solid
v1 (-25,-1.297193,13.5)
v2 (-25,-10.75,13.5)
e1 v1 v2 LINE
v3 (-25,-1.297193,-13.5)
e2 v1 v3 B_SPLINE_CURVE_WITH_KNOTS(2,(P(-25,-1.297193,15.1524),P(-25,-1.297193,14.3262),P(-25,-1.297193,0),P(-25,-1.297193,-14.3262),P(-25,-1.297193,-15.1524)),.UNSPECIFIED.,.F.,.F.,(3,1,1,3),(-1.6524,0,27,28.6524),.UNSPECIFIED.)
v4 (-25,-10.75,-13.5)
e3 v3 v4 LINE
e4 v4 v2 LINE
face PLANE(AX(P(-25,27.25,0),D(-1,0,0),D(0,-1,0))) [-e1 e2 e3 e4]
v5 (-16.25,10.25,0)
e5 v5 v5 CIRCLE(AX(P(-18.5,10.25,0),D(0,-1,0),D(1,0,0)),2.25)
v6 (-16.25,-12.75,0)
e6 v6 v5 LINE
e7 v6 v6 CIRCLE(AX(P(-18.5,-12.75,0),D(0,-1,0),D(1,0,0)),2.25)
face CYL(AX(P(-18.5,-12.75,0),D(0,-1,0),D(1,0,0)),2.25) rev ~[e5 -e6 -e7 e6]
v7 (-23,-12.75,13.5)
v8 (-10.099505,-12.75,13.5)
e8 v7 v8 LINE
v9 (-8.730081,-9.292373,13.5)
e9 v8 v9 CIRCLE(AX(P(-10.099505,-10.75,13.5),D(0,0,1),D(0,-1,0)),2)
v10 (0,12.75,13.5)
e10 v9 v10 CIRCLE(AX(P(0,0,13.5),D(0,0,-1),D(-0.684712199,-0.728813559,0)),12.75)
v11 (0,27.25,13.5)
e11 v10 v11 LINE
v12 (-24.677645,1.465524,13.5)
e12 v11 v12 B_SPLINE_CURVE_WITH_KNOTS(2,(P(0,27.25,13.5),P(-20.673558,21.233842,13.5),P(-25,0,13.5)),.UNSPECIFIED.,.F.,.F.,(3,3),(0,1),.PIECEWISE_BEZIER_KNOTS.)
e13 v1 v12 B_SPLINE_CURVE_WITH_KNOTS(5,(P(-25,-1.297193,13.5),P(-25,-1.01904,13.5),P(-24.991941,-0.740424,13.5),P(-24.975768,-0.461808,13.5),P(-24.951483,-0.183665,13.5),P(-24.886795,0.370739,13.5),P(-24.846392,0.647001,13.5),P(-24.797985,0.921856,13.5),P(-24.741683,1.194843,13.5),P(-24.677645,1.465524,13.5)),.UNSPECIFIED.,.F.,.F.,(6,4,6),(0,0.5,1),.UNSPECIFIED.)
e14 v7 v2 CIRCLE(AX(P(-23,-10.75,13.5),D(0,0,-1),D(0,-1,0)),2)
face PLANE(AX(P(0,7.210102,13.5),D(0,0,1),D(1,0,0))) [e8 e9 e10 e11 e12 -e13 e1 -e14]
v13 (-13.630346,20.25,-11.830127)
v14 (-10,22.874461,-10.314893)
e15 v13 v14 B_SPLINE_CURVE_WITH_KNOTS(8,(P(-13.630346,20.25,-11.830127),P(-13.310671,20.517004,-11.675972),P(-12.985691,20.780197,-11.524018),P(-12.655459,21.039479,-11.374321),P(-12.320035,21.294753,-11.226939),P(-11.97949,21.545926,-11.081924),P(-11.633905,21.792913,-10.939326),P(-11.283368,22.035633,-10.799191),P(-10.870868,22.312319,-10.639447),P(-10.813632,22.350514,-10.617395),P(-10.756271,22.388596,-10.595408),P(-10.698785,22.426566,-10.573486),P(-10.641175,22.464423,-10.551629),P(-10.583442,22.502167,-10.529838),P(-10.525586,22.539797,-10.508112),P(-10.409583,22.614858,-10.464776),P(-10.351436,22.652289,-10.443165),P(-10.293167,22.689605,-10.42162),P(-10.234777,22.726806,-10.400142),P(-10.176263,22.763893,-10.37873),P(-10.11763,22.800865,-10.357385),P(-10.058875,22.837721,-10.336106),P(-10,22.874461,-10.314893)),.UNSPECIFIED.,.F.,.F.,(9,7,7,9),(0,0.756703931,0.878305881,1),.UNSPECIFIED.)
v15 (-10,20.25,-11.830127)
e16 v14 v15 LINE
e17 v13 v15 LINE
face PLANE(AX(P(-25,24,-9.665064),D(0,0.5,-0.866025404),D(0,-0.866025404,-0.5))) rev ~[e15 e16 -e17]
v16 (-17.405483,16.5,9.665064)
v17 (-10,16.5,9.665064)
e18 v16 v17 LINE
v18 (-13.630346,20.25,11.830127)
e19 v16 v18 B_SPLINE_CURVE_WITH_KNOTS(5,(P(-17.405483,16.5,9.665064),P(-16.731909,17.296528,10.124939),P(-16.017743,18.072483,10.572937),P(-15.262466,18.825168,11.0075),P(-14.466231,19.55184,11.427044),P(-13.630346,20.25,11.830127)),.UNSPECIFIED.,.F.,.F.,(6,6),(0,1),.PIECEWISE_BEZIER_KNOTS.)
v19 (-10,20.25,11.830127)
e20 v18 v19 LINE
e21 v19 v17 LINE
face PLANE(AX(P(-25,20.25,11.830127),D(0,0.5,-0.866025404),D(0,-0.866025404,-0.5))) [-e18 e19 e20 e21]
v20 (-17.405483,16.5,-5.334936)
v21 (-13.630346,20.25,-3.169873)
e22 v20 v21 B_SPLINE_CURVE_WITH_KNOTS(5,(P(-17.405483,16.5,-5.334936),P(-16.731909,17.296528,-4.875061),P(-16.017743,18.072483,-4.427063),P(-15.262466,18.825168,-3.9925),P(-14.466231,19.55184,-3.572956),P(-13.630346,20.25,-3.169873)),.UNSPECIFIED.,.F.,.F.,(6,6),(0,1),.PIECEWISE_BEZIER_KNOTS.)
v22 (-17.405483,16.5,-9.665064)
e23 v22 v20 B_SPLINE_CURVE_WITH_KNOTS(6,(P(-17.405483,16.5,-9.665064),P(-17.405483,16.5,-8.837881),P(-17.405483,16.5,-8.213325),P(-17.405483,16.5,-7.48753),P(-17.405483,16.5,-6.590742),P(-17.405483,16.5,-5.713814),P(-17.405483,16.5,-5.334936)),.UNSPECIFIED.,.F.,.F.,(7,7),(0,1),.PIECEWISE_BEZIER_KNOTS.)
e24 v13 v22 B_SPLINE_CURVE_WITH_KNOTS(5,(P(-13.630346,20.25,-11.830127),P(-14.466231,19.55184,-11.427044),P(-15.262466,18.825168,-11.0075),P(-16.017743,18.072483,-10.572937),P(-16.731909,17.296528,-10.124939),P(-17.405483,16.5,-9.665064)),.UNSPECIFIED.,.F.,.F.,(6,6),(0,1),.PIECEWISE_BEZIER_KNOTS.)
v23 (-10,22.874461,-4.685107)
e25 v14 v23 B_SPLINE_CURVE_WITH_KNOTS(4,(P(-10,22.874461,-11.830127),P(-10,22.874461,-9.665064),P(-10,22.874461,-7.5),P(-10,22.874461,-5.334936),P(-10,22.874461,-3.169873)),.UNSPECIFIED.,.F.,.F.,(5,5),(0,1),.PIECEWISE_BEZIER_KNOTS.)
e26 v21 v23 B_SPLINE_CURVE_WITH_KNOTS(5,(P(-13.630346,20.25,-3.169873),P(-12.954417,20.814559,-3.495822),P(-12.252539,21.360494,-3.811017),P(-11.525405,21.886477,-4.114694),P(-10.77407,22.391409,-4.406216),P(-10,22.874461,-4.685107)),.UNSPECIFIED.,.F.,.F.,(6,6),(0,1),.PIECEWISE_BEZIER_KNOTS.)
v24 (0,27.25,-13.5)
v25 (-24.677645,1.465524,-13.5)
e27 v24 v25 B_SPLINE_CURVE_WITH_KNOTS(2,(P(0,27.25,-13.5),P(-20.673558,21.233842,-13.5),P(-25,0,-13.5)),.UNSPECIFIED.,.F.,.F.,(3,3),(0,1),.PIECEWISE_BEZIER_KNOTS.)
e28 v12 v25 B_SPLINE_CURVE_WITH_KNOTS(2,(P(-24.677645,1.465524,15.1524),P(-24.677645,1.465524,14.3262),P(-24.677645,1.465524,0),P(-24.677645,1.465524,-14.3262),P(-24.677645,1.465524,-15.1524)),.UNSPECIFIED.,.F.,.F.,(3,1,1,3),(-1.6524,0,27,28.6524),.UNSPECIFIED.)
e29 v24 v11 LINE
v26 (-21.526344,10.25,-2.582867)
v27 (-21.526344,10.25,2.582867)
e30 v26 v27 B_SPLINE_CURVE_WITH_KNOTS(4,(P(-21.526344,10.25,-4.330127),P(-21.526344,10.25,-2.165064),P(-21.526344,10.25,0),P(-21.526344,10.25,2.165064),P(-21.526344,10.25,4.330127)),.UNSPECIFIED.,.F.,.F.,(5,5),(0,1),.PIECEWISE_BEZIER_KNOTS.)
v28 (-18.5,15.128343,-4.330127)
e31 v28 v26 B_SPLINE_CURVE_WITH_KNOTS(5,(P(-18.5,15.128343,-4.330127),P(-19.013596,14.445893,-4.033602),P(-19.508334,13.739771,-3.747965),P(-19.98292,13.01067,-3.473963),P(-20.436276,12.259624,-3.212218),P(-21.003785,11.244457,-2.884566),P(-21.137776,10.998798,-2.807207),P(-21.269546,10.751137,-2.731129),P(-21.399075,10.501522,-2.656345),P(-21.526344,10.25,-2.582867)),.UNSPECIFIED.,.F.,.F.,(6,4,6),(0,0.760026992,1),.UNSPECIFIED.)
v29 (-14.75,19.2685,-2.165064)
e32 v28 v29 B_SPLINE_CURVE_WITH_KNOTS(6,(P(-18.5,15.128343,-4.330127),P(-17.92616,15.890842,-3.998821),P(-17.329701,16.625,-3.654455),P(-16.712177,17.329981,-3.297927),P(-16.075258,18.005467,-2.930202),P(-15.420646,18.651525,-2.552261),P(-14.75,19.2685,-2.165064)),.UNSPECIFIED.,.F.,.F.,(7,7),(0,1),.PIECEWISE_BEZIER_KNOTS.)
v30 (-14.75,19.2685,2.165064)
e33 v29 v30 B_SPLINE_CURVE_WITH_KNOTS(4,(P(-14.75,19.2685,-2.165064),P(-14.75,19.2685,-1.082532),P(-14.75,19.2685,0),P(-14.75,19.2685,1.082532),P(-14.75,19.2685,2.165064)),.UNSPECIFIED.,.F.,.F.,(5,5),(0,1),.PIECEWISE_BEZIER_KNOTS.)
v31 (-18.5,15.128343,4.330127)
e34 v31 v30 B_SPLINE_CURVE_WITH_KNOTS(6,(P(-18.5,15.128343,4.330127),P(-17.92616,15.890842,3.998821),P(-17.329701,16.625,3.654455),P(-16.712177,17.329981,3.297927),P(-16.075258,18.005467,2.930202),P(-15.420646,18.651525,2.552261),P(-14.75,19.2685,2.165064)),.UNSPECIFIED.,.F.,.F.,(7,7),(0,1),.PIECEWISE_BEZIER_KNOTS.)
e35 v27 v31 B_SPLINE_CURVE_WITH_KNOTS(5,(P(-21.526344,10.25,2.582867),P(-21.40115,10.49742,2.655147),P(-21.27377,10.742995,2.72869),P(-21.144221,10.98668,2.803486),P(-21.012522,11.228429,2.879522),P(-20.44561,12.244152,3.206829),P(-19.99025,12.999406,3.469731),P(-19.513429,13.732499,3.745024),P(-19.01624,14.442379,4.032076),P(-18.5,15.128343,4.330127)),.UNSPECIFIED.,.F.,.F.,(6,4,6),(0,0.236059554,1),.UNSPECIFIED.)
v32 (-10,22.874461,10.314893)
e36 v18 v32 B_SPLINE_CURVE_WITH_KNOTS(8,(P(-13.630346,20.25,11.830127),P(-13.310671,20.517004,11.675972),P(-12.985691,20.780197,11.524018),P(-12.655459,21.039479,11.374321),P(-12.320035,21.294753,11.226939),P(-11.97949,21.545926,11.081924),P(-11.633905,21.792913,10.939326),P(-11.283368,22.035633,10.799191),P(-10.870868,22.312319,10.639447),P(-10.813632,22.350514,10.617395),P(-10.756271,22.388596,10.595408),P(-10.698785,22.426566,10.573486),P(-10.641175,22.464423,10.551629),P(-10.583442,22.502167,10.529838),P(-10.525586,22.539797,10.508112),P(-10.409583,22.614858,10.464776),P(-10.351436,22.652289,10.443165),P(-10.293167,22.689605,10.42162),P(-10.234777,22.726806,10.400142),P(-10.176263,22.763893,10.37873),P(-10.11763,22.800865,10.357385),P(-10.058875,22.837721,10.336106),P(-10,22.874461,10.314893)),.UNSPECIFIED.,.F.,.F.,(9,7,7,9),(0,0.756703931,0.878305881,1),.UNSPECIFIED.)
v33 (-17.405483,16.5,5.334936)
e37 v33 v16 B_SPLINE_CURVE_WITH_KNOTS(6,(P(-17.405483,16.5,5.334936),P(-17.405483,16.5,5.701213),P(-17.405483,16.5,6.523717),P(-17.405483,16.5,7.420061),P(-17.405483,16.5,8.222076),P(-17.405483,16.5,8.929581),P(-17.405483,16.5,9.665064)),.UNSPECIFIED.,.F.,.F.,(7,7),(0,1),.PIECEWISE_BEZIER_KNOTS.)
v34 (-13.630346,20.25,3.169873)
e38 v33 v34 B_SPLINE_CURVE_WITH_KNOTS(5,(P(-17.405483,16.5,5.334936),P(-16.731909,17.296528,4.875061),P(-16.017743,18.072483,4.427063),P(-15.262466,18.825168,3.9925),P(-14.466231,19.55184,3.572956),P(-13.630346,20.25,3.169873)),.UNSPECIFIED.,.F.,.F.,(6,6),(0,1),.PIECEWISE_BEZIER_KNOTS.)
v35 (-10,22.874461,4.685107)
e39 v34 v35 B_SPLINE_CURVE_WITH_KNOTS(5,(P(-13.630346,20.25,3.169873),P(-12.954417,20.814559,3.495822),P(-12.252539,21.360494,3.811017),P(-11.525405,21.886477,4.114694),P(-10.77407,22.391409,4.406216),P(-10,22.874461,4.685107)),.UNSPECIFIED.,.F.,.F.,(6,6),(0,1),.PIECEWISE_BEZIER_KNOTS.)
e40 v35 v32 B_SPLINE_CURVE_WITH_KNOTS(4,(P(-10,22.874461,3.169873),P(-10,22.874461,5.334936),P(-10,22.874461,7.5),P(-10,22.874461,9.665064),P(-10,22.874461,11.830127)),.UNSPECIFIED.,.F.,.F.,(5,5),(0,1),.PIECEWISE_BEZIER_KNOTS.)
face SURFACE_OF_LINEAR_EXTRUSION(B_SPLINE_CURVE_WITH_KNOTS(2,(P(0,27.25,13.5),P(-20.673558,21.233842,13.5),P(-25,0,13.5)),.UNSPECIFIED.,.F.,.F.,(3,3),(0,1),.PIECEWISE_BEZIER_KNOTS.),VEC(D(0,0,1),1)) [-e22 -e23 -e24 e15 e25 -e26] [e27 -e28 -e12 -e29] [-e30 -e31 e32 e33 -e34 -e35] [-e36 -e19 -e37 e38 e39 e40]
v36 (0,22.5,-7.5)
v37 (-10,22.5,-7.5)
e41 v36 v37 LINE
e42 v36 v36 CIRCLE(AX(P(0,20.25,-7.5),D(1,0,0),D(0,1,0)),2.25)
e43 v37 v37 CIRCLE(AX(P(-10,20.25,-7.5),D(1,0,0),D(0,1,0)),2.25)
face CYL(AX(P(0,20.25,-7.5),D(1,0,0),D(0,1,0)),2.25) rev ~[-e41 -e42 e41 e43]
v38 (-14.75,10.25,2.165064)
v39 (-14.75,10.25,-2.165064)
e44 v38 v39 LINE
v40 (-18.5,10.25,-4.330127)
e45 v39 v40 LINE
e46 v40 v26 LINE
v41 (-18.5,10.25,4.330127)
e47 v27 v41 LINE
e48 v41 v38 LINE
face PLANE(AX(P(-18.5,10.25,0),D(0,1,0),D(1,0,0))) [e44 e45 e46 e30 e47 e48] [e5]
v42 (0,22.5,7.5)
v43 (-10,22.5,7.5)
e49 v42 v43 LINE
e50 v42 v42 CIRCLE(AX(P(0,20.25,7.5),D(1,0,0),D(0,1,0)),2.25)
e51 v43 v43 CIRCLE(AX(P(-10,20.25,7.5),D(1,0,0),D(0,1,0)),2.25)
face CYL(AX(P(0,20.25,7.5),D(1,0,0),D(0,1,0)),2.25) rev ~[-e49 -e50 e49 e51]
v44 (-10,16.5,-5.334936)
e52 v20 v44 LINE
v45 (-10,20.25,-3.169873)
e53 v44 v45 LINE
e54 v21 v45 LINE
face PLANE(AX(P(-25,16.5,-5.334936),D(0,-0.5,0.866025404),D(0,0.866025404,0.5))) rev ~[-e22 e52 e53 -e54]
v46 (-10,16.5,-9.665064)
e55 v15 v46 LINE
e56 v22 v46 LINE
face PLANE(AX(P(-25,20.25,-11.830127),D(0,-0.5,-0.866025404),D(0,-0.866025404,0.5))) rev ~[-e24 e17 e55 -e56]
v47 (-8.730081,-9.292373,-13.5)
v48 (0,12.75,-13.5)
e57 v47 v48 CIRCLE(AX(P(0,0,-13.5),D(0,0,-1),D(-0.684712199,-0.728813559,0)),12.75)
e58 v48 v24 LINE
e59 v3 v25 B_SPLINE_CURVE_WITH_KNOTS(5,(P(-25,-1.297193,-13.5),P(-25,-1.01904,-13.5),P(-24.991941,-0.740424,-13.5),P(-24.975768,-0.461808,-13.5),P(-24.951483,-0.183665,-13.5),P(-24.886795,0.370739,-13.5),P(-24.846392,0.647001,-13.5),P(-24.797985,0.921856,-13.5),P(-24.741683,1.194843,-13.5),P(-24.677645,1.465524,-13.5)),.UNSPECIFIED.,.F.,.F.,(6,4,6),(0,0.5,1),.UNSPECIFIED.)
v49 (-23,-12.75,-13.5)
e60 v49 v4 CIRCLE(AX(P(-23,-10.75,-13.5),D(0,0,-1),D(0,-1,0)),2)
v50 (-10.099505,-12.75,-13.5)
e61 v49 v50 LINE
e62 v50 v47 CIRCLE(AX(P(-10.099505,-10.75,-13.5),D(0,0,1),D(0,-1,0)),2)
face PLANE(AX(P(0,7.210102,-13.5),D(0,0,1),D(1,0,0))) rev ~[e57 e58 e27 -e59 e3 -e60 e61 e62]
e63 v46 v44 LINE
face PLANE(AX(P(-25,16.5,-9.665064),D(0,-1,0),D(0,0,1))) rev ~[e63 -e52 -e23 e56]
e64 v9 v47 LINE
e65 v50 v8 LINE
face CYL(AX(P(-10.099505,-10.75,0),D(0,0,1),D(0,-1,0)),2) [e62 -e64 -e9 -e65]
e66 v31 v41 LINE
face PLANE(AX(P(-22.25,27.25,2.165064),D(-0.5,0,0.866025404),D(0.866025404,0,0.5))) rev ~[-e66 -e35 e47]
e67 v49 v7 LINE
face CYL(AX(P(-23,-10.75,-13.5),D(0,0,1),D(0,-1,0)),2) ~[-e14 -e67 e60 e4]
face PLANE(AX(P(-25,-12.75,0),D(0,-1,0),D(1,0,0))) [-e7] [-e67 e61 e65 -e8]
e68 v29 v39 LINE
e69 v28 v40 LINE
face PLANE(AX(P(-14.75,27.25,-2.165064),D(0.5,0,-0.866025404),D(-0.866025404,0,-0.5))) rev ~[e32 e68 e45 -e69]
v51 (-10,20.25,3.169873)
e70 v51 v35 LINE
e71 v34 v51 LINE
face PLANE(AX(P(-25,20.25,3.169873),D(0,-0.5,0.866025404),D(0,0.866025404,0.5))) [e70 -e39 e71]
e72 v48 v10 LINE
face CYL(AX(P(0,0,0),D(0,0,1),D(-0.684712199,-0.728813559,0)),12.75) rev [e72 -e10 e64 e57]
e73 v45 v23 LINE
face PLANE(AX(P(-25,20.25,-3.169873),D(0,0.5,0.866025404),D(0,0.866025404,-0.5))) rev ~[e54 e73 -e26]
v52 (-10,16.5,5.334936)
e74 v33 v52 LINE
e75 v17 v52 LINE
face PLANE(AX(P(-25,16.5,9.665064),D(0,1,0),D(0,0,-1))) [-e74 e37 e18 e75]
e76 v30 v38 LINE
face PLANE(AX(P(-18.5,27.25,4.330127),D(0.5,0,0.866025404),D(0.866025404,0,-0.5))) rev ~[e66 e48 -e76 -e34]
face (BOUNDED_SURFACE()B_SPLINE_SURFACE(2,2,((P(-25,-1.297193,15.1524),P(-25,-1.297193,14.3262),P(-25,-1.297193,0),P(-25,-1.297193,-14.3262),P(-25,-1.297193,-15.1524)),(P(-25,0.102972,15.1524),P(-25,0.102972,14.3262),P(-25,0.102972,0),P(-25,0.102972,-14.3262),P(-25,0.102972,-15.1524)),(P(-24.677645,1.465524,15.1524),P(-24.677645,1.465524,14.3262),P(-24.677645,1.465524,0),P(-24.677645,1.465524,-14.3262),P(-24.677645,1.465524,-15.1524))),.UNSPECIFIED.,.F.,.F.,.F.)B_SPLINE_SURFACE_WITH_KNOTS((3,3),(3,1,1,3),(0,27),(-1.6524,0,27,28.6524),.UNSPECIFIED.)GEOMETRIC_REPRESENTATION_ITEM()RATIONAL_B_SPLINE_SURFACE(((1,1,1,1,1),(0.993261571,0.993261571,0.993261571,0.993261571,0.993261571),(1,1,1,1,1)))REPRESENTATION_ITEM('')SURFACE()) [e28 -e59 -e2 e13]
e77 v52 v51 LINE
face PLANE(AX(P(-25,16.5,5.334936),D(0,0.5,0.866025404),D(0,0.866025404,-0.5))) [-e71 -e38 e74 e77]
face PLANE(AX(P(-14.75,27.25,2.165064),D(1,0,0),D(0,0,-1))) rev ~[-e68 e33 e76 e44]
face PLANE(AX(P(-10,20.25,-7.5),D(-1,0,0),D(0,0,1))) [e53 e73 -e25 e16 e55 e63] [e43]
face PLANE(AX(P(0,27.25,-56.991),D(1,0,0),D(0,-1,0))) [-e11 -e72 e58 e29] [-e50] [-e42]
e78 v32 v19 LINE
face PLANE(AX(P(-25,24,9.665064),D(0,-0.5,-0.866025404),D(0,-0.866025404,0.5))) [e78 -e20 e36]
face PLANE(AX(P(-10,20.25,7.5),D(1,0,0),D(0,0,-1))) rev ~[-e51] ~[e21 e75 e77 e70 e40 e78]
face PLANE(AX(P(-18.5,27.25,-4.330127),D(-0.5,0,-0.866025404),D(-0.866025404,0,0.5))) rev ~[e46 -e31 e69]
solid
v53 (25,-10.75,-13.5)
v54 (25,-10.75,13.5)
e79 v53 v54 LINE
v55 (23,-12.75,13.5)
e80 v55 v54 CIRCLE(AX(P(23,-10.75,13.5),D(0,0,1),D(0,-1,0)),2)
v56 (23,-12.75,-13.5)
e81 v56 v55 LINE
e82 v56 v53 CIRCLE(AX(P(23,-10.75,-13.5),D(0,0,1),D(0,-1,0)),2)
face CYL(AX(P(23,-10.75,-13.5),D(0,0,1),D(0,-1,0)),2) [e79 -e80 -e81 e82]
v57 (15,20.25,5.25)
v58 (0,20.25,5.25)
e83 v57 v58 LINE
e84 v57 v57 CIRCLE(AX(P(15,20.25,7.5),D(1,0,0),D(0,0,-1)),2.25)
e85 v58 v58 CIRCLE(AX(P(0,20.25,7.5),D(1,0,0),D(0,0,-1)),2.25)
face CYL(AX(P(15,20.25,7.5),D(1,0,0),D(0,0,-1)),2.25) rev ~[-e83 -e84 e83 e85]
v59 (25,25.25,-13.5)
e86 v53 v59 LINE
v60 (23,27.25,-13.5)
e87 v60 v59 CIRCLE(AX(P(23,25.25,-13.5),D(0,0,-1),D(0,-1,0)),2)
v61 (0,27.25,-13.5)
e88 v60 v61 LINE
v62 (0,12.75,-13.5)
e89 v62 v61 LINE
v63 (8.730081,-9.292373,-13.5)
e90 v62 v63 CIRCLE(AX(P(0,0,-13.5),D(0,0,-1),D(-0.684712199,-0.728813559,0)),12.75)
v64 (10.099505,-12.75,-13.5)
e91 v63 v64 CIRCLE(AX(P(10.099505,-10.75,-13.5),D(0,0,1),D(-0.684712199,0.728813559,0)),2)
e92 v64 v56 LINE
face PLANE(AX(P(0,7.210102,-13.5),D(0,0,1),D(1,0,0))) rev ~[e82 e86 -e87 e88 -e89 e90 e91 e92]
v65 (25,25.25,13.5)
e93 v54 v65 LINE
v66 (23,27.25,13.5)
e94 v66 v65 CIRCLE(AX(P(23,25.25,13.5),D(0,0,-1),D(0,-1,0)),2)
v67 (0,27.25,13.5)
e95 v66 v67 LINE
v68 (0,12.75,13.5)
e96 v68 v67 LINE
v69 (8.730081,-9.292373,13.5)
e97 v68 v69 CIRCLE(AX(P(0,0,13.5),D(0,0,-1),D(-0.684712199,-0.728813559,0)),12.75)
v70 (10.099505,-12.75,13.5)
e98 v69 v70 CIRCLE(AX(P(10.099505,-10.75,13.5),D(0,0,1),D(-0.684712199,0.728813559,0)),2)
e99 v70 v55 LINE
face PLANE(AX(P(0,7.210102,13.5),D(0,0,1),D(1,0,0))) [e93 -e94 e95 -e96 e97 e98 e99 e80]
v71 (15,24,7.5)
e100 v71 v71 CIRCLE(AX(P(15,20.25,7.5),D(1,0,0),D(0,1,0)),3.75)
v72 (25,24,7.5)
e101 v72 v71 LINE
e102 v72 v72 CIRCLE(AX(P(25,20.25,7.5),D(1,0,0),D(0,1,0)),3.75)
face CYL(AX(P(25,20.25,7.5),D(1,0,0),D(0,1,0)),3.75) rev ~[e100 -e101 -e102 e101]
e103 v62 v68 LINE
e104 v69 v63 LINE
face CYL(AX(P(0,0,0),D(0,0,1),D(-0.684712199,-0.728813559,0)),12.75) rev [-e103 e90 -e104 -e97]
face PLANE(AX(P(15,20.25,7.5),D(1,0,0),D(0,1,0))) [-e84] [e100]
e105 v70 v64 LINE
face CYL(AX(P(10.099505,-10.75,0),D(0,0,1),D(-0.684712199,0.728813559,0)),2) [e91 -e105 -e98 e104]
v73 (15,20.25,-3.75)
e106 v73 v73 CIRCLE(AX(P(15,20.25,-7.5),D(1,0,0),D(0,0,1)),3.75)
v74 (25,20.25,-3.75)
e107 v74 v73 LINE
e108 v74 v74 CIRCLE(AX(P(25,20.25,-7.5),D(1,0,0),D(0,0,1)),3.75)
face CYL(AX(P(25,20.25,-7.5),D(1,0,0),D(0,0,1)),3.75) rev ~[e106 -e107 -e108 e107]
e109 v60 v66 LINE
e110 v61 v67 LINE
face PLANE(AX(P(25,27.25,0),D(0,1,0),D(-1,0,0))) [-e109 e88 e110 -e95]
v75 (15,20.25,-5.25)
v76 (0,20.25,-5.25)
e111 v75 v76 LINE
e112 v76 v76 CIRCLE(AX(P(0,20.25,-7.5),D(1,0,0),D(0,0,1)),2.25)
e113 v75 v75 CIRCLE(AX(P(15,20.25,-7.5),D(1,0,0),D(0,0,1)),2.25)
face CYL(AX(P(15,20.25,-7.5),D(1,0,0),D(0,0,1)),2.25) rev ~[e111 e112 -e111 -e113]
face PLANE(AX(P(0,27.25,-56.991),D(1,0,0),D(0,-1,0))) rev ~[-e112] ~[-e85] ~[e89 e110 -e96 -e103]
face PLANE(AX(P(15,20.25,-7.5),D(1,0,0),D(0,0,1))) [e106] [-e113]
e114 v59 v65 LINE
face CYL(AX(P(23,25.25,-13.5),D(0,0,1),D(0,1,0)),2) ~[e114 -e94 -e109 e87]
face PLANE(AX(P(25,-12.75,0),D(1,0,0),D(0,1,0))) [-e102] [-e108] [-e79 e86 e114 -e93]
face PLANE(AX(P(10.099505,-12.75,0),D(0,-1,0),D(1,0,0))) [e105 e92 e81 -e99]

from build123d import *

# Parameters (mm, degrees)
BOSS_EXTRUDE1_DEPTH    = 13.5
FILLET1_R              = 2
SPLIT1_SURFACE_1_BACK  = 70.491
SPLIT1_SURFACE_1_DEPTH = 140.982
SPLIT1_SURFACE_2_BACK  = 70.491
SPLIT1_SURFACE_2_DEPTH = 140.982
SKETCH3_R              = 3.75
CUT_EXTRUDE1_DEPTH     = 10
SKETCH7_R              = 2.25
CUT_EXTRUDE3_DEPTH     = 15
CUT_EXTRUDE2_DEPTH     = 27
FILLET2_R              = 12
SKETCH8_R              = 2.25
CUT_EXTRUDE4_DEPTH     = 25
CUT_EXTRUDE5_DEPTH     = 15
SKETCH10_R             = 2.25
CUT_EXTRUDE6_DEPTH     = 35
CUT_EXTRUDE7_DEPTH     = 17


with BuildPart() as part:
    # Sketch1 → Boss-Extrude1 (new, symmetric)
    with BuildSketch(Plane.XY):
        with BuildLine():
            Line((10.099504938, -12.75), (25, -12.75))
            Line((25, -12.75), (25, 27.25))
            Line((25, 27.25), (-25, 27.25))
            Line((-25, 27.25), (-25, -12.75))
            Line((-25, -12.75), (-10.099504938, -12.75))
            ThreePointArc((-10.099504938, -12.75), (-8.240035358, -11.486459694), (-8.73008054, -9.292372881))
            ThreePointArc((-8.73008054, -9.292372881), (0, 12.75), (8.73008054, -9.292372881))
            ThreePointArc((8.73008054, -9.292372881), (8.240035358, -11.486459694), (10.099504938, -12.75))
        make_face()
    extrude(amount=BOSS_EXTRUDE1_DEPTH, both=True)

    # Fillet1
    fillet1_edges = [part.edges().sort_by_distance(p)[0] for p in [
        (25, 27.25, 0),
        (25, -12.75, 0),
        (-25, -12.75, 0),
    ]]
    fillet(fillet1_edges, radius=FILLET1_R)


with BuildPart() as body_2:
    # Split1: the piece behind the surface
    add(part.part)
    # Split1 surface: a surface, the sketch's curves swept straight by 140.982 mm
    with BuildLine(Plane.XY.offset(13.5).offset(-SPLIT1_SURFACE_1_BACK), mode=Mode.PRIVATE) as split1_surface_1_path:
        Line((0, 27.25), (0, 0))
    split1_surface_1 = Shell.extrude(split1_surface_1_path.wire(), (0 * SPLIT1_SURFACE_1_DEPTH, 0 * SPLIT1_SURFACE_1_DEPTH, 1 * SPLIT1_SURFACE_1_DEPTH))
    split(bisect_by=split1_surface_1, keep=Keep.BOTTOM)

    # Sketch6 → Cut-Extrude2 (cut)
    with BuildSketch(Plane.XY.offset(13.5)):
        with BuildLine():
            Line((-25, 27.25), (-25, 0))
            add(Edge.make_bspline(
                [(0, 27.25), (-20.673557746, 21.233841963), (-25, 0)],
                knots=[0, 0, 0, 1, 1, 1], degree=2))
            Line((0, 27.25), (-25, 27.25))
        make_face()
    extrude(amount=-CUT_EXTRUDE2_DEPTH, mode=Mode.SUBTRACT)

    # Fillet2
    fillet2_edges = [body_2.edges().sort_by_distance(p)[0] for p in [
        (-25, 0, 0),
    ]]
    fillet(fillet2_edges, radius=FILLET2_R)

    # Sketch8 → Cut-Extrude4 (cut)
    with BuildSketch(Plane(origin=(0, 0, 0), x_dir=(0, 0, -1), z_dir=(1, 0, 0))):
        with Locations(Location((7.5, 20.25, 0), (0, 0, 90))):
            Circle(SKETCH8_R)
        with Locations(Location((-7.5, 20.25, 0), (0, 0, 90))):
            Circle(SKETCH8_R)
    extrude(amount=-CUT_EXTRUDE4_DEPTH, mode=Mode.SUBTRACT)

    # Sketch9 → Cut-Extrude5 (cut)
    with BuildSketch(Plane.ZY.offset(25)):
        Polygon((-5.334936491, 24), (-9.665063509, 24), (-11.830127019, 20.25), (-9.665063509, 16.5), (-5.334936491, 16.5), (-3.169872981, 20.25), align=None)
        Polygon((3.169872981, 20.25), (5.334936491, 24), (9.665063509, 24), (11.830127019, 20.25), (9.665063509, 16.5), (5.334936491, 16.5), align=None)
    extrude(amount=-CUT_EXTRUDE5_DEPTH, mode=Mode.SUBTRACT)

    # Sketch10 → Cut-Extrude6 (cut)
    with BuildSketch(Plane.XZ.offset(12.75)):
        with Locations((-18.5, 0)):
            Circle(SKETCH10_R)
    extrude(amount=-CUT_EXTRUDE6_DEPTH, mode=Mode.SUBTRACT)

    # Sketch11 → Cut-Extrude7 (cut)
    with BuildSketch(Plane(origin=(0, 27.25, 0), x_dir=(1, 0, 0), z_dir=(0, 1, 0))):
        Polygon((-14.75, -2.165063509), (-14.75, 2.165063509), (-18.5, 4.330127019), (-22.25, 2.165063509), (-22.25, -2.165063509), (-18.5, -4.330127019), align=None)
    extrude(amount=-CUT_EXTRUDE7_DEPTH, mode=Mode.SUBTRACT)


with BuildPart() as part_1:
    add(part.part)

    # Split1: split by a surface, the side it looks to stays
    # Split1 surface: a surface, the sketch's curves swept straight by 140.982 mm
    with BuildLine(Plane.XY.offset(13.5).offset(-SPLIT1_SURFACE_2_BACK), mode=Mode.PRIVATE) as split1_surface_2_path:
        Line((0, 27.25), (0, 0))
    split1_surface_2 = Shell.extrude(split1_surface_2_path.wire(), (0 * SPLIT1_SURFACE_2_DEPTH, 0 * SPLIT1_SURFACE_2_DEPTH, 1 * SPLIT1_SURFACE_2_DEPTH))
    split(bisect_by=split1_surface_2, keep=Keep.TOP)

    # Sketch3 → Cut-Extrude1 (cut)
    with BuildSketch(Plane(origin=(25, 0, 0), x_dir=(0, 0, -1), z_dir=(1, 0, 0))):
        with Locations(Location((-7.5, 20.25, 0), (0, 0, 90))):
            Circle(SKETCH3_R)
        with Locations(Location((7.5, 20.25, 0), (0, 0, 180))):
            Circle(SKETCH3_R)
    extrude(amount=-CUT_EXTRUDE1_DEPTH, mode=Mode.SUBTRACT)

    # Sketch7 → Cut-Extrude3 (cut)
    with BuildSketch(Plane(origin=(15, 0, 0), x_dir=(0, 0, -1), z_dir=(1, 0, 0))):
        with Locations((-7.5, 20.25)):
            Circle(SKETCH7_R)
        with Locations(Location((7.5, 20.25, 0), (0, 0, 180))):
            Circle(SKETCH7_R)
    extrude(amount=-CUT_EXTRUDE3_DEPTH, mode=Mode.SUBTRACT)


solid = Compound([body_2.part, part_1.part])
